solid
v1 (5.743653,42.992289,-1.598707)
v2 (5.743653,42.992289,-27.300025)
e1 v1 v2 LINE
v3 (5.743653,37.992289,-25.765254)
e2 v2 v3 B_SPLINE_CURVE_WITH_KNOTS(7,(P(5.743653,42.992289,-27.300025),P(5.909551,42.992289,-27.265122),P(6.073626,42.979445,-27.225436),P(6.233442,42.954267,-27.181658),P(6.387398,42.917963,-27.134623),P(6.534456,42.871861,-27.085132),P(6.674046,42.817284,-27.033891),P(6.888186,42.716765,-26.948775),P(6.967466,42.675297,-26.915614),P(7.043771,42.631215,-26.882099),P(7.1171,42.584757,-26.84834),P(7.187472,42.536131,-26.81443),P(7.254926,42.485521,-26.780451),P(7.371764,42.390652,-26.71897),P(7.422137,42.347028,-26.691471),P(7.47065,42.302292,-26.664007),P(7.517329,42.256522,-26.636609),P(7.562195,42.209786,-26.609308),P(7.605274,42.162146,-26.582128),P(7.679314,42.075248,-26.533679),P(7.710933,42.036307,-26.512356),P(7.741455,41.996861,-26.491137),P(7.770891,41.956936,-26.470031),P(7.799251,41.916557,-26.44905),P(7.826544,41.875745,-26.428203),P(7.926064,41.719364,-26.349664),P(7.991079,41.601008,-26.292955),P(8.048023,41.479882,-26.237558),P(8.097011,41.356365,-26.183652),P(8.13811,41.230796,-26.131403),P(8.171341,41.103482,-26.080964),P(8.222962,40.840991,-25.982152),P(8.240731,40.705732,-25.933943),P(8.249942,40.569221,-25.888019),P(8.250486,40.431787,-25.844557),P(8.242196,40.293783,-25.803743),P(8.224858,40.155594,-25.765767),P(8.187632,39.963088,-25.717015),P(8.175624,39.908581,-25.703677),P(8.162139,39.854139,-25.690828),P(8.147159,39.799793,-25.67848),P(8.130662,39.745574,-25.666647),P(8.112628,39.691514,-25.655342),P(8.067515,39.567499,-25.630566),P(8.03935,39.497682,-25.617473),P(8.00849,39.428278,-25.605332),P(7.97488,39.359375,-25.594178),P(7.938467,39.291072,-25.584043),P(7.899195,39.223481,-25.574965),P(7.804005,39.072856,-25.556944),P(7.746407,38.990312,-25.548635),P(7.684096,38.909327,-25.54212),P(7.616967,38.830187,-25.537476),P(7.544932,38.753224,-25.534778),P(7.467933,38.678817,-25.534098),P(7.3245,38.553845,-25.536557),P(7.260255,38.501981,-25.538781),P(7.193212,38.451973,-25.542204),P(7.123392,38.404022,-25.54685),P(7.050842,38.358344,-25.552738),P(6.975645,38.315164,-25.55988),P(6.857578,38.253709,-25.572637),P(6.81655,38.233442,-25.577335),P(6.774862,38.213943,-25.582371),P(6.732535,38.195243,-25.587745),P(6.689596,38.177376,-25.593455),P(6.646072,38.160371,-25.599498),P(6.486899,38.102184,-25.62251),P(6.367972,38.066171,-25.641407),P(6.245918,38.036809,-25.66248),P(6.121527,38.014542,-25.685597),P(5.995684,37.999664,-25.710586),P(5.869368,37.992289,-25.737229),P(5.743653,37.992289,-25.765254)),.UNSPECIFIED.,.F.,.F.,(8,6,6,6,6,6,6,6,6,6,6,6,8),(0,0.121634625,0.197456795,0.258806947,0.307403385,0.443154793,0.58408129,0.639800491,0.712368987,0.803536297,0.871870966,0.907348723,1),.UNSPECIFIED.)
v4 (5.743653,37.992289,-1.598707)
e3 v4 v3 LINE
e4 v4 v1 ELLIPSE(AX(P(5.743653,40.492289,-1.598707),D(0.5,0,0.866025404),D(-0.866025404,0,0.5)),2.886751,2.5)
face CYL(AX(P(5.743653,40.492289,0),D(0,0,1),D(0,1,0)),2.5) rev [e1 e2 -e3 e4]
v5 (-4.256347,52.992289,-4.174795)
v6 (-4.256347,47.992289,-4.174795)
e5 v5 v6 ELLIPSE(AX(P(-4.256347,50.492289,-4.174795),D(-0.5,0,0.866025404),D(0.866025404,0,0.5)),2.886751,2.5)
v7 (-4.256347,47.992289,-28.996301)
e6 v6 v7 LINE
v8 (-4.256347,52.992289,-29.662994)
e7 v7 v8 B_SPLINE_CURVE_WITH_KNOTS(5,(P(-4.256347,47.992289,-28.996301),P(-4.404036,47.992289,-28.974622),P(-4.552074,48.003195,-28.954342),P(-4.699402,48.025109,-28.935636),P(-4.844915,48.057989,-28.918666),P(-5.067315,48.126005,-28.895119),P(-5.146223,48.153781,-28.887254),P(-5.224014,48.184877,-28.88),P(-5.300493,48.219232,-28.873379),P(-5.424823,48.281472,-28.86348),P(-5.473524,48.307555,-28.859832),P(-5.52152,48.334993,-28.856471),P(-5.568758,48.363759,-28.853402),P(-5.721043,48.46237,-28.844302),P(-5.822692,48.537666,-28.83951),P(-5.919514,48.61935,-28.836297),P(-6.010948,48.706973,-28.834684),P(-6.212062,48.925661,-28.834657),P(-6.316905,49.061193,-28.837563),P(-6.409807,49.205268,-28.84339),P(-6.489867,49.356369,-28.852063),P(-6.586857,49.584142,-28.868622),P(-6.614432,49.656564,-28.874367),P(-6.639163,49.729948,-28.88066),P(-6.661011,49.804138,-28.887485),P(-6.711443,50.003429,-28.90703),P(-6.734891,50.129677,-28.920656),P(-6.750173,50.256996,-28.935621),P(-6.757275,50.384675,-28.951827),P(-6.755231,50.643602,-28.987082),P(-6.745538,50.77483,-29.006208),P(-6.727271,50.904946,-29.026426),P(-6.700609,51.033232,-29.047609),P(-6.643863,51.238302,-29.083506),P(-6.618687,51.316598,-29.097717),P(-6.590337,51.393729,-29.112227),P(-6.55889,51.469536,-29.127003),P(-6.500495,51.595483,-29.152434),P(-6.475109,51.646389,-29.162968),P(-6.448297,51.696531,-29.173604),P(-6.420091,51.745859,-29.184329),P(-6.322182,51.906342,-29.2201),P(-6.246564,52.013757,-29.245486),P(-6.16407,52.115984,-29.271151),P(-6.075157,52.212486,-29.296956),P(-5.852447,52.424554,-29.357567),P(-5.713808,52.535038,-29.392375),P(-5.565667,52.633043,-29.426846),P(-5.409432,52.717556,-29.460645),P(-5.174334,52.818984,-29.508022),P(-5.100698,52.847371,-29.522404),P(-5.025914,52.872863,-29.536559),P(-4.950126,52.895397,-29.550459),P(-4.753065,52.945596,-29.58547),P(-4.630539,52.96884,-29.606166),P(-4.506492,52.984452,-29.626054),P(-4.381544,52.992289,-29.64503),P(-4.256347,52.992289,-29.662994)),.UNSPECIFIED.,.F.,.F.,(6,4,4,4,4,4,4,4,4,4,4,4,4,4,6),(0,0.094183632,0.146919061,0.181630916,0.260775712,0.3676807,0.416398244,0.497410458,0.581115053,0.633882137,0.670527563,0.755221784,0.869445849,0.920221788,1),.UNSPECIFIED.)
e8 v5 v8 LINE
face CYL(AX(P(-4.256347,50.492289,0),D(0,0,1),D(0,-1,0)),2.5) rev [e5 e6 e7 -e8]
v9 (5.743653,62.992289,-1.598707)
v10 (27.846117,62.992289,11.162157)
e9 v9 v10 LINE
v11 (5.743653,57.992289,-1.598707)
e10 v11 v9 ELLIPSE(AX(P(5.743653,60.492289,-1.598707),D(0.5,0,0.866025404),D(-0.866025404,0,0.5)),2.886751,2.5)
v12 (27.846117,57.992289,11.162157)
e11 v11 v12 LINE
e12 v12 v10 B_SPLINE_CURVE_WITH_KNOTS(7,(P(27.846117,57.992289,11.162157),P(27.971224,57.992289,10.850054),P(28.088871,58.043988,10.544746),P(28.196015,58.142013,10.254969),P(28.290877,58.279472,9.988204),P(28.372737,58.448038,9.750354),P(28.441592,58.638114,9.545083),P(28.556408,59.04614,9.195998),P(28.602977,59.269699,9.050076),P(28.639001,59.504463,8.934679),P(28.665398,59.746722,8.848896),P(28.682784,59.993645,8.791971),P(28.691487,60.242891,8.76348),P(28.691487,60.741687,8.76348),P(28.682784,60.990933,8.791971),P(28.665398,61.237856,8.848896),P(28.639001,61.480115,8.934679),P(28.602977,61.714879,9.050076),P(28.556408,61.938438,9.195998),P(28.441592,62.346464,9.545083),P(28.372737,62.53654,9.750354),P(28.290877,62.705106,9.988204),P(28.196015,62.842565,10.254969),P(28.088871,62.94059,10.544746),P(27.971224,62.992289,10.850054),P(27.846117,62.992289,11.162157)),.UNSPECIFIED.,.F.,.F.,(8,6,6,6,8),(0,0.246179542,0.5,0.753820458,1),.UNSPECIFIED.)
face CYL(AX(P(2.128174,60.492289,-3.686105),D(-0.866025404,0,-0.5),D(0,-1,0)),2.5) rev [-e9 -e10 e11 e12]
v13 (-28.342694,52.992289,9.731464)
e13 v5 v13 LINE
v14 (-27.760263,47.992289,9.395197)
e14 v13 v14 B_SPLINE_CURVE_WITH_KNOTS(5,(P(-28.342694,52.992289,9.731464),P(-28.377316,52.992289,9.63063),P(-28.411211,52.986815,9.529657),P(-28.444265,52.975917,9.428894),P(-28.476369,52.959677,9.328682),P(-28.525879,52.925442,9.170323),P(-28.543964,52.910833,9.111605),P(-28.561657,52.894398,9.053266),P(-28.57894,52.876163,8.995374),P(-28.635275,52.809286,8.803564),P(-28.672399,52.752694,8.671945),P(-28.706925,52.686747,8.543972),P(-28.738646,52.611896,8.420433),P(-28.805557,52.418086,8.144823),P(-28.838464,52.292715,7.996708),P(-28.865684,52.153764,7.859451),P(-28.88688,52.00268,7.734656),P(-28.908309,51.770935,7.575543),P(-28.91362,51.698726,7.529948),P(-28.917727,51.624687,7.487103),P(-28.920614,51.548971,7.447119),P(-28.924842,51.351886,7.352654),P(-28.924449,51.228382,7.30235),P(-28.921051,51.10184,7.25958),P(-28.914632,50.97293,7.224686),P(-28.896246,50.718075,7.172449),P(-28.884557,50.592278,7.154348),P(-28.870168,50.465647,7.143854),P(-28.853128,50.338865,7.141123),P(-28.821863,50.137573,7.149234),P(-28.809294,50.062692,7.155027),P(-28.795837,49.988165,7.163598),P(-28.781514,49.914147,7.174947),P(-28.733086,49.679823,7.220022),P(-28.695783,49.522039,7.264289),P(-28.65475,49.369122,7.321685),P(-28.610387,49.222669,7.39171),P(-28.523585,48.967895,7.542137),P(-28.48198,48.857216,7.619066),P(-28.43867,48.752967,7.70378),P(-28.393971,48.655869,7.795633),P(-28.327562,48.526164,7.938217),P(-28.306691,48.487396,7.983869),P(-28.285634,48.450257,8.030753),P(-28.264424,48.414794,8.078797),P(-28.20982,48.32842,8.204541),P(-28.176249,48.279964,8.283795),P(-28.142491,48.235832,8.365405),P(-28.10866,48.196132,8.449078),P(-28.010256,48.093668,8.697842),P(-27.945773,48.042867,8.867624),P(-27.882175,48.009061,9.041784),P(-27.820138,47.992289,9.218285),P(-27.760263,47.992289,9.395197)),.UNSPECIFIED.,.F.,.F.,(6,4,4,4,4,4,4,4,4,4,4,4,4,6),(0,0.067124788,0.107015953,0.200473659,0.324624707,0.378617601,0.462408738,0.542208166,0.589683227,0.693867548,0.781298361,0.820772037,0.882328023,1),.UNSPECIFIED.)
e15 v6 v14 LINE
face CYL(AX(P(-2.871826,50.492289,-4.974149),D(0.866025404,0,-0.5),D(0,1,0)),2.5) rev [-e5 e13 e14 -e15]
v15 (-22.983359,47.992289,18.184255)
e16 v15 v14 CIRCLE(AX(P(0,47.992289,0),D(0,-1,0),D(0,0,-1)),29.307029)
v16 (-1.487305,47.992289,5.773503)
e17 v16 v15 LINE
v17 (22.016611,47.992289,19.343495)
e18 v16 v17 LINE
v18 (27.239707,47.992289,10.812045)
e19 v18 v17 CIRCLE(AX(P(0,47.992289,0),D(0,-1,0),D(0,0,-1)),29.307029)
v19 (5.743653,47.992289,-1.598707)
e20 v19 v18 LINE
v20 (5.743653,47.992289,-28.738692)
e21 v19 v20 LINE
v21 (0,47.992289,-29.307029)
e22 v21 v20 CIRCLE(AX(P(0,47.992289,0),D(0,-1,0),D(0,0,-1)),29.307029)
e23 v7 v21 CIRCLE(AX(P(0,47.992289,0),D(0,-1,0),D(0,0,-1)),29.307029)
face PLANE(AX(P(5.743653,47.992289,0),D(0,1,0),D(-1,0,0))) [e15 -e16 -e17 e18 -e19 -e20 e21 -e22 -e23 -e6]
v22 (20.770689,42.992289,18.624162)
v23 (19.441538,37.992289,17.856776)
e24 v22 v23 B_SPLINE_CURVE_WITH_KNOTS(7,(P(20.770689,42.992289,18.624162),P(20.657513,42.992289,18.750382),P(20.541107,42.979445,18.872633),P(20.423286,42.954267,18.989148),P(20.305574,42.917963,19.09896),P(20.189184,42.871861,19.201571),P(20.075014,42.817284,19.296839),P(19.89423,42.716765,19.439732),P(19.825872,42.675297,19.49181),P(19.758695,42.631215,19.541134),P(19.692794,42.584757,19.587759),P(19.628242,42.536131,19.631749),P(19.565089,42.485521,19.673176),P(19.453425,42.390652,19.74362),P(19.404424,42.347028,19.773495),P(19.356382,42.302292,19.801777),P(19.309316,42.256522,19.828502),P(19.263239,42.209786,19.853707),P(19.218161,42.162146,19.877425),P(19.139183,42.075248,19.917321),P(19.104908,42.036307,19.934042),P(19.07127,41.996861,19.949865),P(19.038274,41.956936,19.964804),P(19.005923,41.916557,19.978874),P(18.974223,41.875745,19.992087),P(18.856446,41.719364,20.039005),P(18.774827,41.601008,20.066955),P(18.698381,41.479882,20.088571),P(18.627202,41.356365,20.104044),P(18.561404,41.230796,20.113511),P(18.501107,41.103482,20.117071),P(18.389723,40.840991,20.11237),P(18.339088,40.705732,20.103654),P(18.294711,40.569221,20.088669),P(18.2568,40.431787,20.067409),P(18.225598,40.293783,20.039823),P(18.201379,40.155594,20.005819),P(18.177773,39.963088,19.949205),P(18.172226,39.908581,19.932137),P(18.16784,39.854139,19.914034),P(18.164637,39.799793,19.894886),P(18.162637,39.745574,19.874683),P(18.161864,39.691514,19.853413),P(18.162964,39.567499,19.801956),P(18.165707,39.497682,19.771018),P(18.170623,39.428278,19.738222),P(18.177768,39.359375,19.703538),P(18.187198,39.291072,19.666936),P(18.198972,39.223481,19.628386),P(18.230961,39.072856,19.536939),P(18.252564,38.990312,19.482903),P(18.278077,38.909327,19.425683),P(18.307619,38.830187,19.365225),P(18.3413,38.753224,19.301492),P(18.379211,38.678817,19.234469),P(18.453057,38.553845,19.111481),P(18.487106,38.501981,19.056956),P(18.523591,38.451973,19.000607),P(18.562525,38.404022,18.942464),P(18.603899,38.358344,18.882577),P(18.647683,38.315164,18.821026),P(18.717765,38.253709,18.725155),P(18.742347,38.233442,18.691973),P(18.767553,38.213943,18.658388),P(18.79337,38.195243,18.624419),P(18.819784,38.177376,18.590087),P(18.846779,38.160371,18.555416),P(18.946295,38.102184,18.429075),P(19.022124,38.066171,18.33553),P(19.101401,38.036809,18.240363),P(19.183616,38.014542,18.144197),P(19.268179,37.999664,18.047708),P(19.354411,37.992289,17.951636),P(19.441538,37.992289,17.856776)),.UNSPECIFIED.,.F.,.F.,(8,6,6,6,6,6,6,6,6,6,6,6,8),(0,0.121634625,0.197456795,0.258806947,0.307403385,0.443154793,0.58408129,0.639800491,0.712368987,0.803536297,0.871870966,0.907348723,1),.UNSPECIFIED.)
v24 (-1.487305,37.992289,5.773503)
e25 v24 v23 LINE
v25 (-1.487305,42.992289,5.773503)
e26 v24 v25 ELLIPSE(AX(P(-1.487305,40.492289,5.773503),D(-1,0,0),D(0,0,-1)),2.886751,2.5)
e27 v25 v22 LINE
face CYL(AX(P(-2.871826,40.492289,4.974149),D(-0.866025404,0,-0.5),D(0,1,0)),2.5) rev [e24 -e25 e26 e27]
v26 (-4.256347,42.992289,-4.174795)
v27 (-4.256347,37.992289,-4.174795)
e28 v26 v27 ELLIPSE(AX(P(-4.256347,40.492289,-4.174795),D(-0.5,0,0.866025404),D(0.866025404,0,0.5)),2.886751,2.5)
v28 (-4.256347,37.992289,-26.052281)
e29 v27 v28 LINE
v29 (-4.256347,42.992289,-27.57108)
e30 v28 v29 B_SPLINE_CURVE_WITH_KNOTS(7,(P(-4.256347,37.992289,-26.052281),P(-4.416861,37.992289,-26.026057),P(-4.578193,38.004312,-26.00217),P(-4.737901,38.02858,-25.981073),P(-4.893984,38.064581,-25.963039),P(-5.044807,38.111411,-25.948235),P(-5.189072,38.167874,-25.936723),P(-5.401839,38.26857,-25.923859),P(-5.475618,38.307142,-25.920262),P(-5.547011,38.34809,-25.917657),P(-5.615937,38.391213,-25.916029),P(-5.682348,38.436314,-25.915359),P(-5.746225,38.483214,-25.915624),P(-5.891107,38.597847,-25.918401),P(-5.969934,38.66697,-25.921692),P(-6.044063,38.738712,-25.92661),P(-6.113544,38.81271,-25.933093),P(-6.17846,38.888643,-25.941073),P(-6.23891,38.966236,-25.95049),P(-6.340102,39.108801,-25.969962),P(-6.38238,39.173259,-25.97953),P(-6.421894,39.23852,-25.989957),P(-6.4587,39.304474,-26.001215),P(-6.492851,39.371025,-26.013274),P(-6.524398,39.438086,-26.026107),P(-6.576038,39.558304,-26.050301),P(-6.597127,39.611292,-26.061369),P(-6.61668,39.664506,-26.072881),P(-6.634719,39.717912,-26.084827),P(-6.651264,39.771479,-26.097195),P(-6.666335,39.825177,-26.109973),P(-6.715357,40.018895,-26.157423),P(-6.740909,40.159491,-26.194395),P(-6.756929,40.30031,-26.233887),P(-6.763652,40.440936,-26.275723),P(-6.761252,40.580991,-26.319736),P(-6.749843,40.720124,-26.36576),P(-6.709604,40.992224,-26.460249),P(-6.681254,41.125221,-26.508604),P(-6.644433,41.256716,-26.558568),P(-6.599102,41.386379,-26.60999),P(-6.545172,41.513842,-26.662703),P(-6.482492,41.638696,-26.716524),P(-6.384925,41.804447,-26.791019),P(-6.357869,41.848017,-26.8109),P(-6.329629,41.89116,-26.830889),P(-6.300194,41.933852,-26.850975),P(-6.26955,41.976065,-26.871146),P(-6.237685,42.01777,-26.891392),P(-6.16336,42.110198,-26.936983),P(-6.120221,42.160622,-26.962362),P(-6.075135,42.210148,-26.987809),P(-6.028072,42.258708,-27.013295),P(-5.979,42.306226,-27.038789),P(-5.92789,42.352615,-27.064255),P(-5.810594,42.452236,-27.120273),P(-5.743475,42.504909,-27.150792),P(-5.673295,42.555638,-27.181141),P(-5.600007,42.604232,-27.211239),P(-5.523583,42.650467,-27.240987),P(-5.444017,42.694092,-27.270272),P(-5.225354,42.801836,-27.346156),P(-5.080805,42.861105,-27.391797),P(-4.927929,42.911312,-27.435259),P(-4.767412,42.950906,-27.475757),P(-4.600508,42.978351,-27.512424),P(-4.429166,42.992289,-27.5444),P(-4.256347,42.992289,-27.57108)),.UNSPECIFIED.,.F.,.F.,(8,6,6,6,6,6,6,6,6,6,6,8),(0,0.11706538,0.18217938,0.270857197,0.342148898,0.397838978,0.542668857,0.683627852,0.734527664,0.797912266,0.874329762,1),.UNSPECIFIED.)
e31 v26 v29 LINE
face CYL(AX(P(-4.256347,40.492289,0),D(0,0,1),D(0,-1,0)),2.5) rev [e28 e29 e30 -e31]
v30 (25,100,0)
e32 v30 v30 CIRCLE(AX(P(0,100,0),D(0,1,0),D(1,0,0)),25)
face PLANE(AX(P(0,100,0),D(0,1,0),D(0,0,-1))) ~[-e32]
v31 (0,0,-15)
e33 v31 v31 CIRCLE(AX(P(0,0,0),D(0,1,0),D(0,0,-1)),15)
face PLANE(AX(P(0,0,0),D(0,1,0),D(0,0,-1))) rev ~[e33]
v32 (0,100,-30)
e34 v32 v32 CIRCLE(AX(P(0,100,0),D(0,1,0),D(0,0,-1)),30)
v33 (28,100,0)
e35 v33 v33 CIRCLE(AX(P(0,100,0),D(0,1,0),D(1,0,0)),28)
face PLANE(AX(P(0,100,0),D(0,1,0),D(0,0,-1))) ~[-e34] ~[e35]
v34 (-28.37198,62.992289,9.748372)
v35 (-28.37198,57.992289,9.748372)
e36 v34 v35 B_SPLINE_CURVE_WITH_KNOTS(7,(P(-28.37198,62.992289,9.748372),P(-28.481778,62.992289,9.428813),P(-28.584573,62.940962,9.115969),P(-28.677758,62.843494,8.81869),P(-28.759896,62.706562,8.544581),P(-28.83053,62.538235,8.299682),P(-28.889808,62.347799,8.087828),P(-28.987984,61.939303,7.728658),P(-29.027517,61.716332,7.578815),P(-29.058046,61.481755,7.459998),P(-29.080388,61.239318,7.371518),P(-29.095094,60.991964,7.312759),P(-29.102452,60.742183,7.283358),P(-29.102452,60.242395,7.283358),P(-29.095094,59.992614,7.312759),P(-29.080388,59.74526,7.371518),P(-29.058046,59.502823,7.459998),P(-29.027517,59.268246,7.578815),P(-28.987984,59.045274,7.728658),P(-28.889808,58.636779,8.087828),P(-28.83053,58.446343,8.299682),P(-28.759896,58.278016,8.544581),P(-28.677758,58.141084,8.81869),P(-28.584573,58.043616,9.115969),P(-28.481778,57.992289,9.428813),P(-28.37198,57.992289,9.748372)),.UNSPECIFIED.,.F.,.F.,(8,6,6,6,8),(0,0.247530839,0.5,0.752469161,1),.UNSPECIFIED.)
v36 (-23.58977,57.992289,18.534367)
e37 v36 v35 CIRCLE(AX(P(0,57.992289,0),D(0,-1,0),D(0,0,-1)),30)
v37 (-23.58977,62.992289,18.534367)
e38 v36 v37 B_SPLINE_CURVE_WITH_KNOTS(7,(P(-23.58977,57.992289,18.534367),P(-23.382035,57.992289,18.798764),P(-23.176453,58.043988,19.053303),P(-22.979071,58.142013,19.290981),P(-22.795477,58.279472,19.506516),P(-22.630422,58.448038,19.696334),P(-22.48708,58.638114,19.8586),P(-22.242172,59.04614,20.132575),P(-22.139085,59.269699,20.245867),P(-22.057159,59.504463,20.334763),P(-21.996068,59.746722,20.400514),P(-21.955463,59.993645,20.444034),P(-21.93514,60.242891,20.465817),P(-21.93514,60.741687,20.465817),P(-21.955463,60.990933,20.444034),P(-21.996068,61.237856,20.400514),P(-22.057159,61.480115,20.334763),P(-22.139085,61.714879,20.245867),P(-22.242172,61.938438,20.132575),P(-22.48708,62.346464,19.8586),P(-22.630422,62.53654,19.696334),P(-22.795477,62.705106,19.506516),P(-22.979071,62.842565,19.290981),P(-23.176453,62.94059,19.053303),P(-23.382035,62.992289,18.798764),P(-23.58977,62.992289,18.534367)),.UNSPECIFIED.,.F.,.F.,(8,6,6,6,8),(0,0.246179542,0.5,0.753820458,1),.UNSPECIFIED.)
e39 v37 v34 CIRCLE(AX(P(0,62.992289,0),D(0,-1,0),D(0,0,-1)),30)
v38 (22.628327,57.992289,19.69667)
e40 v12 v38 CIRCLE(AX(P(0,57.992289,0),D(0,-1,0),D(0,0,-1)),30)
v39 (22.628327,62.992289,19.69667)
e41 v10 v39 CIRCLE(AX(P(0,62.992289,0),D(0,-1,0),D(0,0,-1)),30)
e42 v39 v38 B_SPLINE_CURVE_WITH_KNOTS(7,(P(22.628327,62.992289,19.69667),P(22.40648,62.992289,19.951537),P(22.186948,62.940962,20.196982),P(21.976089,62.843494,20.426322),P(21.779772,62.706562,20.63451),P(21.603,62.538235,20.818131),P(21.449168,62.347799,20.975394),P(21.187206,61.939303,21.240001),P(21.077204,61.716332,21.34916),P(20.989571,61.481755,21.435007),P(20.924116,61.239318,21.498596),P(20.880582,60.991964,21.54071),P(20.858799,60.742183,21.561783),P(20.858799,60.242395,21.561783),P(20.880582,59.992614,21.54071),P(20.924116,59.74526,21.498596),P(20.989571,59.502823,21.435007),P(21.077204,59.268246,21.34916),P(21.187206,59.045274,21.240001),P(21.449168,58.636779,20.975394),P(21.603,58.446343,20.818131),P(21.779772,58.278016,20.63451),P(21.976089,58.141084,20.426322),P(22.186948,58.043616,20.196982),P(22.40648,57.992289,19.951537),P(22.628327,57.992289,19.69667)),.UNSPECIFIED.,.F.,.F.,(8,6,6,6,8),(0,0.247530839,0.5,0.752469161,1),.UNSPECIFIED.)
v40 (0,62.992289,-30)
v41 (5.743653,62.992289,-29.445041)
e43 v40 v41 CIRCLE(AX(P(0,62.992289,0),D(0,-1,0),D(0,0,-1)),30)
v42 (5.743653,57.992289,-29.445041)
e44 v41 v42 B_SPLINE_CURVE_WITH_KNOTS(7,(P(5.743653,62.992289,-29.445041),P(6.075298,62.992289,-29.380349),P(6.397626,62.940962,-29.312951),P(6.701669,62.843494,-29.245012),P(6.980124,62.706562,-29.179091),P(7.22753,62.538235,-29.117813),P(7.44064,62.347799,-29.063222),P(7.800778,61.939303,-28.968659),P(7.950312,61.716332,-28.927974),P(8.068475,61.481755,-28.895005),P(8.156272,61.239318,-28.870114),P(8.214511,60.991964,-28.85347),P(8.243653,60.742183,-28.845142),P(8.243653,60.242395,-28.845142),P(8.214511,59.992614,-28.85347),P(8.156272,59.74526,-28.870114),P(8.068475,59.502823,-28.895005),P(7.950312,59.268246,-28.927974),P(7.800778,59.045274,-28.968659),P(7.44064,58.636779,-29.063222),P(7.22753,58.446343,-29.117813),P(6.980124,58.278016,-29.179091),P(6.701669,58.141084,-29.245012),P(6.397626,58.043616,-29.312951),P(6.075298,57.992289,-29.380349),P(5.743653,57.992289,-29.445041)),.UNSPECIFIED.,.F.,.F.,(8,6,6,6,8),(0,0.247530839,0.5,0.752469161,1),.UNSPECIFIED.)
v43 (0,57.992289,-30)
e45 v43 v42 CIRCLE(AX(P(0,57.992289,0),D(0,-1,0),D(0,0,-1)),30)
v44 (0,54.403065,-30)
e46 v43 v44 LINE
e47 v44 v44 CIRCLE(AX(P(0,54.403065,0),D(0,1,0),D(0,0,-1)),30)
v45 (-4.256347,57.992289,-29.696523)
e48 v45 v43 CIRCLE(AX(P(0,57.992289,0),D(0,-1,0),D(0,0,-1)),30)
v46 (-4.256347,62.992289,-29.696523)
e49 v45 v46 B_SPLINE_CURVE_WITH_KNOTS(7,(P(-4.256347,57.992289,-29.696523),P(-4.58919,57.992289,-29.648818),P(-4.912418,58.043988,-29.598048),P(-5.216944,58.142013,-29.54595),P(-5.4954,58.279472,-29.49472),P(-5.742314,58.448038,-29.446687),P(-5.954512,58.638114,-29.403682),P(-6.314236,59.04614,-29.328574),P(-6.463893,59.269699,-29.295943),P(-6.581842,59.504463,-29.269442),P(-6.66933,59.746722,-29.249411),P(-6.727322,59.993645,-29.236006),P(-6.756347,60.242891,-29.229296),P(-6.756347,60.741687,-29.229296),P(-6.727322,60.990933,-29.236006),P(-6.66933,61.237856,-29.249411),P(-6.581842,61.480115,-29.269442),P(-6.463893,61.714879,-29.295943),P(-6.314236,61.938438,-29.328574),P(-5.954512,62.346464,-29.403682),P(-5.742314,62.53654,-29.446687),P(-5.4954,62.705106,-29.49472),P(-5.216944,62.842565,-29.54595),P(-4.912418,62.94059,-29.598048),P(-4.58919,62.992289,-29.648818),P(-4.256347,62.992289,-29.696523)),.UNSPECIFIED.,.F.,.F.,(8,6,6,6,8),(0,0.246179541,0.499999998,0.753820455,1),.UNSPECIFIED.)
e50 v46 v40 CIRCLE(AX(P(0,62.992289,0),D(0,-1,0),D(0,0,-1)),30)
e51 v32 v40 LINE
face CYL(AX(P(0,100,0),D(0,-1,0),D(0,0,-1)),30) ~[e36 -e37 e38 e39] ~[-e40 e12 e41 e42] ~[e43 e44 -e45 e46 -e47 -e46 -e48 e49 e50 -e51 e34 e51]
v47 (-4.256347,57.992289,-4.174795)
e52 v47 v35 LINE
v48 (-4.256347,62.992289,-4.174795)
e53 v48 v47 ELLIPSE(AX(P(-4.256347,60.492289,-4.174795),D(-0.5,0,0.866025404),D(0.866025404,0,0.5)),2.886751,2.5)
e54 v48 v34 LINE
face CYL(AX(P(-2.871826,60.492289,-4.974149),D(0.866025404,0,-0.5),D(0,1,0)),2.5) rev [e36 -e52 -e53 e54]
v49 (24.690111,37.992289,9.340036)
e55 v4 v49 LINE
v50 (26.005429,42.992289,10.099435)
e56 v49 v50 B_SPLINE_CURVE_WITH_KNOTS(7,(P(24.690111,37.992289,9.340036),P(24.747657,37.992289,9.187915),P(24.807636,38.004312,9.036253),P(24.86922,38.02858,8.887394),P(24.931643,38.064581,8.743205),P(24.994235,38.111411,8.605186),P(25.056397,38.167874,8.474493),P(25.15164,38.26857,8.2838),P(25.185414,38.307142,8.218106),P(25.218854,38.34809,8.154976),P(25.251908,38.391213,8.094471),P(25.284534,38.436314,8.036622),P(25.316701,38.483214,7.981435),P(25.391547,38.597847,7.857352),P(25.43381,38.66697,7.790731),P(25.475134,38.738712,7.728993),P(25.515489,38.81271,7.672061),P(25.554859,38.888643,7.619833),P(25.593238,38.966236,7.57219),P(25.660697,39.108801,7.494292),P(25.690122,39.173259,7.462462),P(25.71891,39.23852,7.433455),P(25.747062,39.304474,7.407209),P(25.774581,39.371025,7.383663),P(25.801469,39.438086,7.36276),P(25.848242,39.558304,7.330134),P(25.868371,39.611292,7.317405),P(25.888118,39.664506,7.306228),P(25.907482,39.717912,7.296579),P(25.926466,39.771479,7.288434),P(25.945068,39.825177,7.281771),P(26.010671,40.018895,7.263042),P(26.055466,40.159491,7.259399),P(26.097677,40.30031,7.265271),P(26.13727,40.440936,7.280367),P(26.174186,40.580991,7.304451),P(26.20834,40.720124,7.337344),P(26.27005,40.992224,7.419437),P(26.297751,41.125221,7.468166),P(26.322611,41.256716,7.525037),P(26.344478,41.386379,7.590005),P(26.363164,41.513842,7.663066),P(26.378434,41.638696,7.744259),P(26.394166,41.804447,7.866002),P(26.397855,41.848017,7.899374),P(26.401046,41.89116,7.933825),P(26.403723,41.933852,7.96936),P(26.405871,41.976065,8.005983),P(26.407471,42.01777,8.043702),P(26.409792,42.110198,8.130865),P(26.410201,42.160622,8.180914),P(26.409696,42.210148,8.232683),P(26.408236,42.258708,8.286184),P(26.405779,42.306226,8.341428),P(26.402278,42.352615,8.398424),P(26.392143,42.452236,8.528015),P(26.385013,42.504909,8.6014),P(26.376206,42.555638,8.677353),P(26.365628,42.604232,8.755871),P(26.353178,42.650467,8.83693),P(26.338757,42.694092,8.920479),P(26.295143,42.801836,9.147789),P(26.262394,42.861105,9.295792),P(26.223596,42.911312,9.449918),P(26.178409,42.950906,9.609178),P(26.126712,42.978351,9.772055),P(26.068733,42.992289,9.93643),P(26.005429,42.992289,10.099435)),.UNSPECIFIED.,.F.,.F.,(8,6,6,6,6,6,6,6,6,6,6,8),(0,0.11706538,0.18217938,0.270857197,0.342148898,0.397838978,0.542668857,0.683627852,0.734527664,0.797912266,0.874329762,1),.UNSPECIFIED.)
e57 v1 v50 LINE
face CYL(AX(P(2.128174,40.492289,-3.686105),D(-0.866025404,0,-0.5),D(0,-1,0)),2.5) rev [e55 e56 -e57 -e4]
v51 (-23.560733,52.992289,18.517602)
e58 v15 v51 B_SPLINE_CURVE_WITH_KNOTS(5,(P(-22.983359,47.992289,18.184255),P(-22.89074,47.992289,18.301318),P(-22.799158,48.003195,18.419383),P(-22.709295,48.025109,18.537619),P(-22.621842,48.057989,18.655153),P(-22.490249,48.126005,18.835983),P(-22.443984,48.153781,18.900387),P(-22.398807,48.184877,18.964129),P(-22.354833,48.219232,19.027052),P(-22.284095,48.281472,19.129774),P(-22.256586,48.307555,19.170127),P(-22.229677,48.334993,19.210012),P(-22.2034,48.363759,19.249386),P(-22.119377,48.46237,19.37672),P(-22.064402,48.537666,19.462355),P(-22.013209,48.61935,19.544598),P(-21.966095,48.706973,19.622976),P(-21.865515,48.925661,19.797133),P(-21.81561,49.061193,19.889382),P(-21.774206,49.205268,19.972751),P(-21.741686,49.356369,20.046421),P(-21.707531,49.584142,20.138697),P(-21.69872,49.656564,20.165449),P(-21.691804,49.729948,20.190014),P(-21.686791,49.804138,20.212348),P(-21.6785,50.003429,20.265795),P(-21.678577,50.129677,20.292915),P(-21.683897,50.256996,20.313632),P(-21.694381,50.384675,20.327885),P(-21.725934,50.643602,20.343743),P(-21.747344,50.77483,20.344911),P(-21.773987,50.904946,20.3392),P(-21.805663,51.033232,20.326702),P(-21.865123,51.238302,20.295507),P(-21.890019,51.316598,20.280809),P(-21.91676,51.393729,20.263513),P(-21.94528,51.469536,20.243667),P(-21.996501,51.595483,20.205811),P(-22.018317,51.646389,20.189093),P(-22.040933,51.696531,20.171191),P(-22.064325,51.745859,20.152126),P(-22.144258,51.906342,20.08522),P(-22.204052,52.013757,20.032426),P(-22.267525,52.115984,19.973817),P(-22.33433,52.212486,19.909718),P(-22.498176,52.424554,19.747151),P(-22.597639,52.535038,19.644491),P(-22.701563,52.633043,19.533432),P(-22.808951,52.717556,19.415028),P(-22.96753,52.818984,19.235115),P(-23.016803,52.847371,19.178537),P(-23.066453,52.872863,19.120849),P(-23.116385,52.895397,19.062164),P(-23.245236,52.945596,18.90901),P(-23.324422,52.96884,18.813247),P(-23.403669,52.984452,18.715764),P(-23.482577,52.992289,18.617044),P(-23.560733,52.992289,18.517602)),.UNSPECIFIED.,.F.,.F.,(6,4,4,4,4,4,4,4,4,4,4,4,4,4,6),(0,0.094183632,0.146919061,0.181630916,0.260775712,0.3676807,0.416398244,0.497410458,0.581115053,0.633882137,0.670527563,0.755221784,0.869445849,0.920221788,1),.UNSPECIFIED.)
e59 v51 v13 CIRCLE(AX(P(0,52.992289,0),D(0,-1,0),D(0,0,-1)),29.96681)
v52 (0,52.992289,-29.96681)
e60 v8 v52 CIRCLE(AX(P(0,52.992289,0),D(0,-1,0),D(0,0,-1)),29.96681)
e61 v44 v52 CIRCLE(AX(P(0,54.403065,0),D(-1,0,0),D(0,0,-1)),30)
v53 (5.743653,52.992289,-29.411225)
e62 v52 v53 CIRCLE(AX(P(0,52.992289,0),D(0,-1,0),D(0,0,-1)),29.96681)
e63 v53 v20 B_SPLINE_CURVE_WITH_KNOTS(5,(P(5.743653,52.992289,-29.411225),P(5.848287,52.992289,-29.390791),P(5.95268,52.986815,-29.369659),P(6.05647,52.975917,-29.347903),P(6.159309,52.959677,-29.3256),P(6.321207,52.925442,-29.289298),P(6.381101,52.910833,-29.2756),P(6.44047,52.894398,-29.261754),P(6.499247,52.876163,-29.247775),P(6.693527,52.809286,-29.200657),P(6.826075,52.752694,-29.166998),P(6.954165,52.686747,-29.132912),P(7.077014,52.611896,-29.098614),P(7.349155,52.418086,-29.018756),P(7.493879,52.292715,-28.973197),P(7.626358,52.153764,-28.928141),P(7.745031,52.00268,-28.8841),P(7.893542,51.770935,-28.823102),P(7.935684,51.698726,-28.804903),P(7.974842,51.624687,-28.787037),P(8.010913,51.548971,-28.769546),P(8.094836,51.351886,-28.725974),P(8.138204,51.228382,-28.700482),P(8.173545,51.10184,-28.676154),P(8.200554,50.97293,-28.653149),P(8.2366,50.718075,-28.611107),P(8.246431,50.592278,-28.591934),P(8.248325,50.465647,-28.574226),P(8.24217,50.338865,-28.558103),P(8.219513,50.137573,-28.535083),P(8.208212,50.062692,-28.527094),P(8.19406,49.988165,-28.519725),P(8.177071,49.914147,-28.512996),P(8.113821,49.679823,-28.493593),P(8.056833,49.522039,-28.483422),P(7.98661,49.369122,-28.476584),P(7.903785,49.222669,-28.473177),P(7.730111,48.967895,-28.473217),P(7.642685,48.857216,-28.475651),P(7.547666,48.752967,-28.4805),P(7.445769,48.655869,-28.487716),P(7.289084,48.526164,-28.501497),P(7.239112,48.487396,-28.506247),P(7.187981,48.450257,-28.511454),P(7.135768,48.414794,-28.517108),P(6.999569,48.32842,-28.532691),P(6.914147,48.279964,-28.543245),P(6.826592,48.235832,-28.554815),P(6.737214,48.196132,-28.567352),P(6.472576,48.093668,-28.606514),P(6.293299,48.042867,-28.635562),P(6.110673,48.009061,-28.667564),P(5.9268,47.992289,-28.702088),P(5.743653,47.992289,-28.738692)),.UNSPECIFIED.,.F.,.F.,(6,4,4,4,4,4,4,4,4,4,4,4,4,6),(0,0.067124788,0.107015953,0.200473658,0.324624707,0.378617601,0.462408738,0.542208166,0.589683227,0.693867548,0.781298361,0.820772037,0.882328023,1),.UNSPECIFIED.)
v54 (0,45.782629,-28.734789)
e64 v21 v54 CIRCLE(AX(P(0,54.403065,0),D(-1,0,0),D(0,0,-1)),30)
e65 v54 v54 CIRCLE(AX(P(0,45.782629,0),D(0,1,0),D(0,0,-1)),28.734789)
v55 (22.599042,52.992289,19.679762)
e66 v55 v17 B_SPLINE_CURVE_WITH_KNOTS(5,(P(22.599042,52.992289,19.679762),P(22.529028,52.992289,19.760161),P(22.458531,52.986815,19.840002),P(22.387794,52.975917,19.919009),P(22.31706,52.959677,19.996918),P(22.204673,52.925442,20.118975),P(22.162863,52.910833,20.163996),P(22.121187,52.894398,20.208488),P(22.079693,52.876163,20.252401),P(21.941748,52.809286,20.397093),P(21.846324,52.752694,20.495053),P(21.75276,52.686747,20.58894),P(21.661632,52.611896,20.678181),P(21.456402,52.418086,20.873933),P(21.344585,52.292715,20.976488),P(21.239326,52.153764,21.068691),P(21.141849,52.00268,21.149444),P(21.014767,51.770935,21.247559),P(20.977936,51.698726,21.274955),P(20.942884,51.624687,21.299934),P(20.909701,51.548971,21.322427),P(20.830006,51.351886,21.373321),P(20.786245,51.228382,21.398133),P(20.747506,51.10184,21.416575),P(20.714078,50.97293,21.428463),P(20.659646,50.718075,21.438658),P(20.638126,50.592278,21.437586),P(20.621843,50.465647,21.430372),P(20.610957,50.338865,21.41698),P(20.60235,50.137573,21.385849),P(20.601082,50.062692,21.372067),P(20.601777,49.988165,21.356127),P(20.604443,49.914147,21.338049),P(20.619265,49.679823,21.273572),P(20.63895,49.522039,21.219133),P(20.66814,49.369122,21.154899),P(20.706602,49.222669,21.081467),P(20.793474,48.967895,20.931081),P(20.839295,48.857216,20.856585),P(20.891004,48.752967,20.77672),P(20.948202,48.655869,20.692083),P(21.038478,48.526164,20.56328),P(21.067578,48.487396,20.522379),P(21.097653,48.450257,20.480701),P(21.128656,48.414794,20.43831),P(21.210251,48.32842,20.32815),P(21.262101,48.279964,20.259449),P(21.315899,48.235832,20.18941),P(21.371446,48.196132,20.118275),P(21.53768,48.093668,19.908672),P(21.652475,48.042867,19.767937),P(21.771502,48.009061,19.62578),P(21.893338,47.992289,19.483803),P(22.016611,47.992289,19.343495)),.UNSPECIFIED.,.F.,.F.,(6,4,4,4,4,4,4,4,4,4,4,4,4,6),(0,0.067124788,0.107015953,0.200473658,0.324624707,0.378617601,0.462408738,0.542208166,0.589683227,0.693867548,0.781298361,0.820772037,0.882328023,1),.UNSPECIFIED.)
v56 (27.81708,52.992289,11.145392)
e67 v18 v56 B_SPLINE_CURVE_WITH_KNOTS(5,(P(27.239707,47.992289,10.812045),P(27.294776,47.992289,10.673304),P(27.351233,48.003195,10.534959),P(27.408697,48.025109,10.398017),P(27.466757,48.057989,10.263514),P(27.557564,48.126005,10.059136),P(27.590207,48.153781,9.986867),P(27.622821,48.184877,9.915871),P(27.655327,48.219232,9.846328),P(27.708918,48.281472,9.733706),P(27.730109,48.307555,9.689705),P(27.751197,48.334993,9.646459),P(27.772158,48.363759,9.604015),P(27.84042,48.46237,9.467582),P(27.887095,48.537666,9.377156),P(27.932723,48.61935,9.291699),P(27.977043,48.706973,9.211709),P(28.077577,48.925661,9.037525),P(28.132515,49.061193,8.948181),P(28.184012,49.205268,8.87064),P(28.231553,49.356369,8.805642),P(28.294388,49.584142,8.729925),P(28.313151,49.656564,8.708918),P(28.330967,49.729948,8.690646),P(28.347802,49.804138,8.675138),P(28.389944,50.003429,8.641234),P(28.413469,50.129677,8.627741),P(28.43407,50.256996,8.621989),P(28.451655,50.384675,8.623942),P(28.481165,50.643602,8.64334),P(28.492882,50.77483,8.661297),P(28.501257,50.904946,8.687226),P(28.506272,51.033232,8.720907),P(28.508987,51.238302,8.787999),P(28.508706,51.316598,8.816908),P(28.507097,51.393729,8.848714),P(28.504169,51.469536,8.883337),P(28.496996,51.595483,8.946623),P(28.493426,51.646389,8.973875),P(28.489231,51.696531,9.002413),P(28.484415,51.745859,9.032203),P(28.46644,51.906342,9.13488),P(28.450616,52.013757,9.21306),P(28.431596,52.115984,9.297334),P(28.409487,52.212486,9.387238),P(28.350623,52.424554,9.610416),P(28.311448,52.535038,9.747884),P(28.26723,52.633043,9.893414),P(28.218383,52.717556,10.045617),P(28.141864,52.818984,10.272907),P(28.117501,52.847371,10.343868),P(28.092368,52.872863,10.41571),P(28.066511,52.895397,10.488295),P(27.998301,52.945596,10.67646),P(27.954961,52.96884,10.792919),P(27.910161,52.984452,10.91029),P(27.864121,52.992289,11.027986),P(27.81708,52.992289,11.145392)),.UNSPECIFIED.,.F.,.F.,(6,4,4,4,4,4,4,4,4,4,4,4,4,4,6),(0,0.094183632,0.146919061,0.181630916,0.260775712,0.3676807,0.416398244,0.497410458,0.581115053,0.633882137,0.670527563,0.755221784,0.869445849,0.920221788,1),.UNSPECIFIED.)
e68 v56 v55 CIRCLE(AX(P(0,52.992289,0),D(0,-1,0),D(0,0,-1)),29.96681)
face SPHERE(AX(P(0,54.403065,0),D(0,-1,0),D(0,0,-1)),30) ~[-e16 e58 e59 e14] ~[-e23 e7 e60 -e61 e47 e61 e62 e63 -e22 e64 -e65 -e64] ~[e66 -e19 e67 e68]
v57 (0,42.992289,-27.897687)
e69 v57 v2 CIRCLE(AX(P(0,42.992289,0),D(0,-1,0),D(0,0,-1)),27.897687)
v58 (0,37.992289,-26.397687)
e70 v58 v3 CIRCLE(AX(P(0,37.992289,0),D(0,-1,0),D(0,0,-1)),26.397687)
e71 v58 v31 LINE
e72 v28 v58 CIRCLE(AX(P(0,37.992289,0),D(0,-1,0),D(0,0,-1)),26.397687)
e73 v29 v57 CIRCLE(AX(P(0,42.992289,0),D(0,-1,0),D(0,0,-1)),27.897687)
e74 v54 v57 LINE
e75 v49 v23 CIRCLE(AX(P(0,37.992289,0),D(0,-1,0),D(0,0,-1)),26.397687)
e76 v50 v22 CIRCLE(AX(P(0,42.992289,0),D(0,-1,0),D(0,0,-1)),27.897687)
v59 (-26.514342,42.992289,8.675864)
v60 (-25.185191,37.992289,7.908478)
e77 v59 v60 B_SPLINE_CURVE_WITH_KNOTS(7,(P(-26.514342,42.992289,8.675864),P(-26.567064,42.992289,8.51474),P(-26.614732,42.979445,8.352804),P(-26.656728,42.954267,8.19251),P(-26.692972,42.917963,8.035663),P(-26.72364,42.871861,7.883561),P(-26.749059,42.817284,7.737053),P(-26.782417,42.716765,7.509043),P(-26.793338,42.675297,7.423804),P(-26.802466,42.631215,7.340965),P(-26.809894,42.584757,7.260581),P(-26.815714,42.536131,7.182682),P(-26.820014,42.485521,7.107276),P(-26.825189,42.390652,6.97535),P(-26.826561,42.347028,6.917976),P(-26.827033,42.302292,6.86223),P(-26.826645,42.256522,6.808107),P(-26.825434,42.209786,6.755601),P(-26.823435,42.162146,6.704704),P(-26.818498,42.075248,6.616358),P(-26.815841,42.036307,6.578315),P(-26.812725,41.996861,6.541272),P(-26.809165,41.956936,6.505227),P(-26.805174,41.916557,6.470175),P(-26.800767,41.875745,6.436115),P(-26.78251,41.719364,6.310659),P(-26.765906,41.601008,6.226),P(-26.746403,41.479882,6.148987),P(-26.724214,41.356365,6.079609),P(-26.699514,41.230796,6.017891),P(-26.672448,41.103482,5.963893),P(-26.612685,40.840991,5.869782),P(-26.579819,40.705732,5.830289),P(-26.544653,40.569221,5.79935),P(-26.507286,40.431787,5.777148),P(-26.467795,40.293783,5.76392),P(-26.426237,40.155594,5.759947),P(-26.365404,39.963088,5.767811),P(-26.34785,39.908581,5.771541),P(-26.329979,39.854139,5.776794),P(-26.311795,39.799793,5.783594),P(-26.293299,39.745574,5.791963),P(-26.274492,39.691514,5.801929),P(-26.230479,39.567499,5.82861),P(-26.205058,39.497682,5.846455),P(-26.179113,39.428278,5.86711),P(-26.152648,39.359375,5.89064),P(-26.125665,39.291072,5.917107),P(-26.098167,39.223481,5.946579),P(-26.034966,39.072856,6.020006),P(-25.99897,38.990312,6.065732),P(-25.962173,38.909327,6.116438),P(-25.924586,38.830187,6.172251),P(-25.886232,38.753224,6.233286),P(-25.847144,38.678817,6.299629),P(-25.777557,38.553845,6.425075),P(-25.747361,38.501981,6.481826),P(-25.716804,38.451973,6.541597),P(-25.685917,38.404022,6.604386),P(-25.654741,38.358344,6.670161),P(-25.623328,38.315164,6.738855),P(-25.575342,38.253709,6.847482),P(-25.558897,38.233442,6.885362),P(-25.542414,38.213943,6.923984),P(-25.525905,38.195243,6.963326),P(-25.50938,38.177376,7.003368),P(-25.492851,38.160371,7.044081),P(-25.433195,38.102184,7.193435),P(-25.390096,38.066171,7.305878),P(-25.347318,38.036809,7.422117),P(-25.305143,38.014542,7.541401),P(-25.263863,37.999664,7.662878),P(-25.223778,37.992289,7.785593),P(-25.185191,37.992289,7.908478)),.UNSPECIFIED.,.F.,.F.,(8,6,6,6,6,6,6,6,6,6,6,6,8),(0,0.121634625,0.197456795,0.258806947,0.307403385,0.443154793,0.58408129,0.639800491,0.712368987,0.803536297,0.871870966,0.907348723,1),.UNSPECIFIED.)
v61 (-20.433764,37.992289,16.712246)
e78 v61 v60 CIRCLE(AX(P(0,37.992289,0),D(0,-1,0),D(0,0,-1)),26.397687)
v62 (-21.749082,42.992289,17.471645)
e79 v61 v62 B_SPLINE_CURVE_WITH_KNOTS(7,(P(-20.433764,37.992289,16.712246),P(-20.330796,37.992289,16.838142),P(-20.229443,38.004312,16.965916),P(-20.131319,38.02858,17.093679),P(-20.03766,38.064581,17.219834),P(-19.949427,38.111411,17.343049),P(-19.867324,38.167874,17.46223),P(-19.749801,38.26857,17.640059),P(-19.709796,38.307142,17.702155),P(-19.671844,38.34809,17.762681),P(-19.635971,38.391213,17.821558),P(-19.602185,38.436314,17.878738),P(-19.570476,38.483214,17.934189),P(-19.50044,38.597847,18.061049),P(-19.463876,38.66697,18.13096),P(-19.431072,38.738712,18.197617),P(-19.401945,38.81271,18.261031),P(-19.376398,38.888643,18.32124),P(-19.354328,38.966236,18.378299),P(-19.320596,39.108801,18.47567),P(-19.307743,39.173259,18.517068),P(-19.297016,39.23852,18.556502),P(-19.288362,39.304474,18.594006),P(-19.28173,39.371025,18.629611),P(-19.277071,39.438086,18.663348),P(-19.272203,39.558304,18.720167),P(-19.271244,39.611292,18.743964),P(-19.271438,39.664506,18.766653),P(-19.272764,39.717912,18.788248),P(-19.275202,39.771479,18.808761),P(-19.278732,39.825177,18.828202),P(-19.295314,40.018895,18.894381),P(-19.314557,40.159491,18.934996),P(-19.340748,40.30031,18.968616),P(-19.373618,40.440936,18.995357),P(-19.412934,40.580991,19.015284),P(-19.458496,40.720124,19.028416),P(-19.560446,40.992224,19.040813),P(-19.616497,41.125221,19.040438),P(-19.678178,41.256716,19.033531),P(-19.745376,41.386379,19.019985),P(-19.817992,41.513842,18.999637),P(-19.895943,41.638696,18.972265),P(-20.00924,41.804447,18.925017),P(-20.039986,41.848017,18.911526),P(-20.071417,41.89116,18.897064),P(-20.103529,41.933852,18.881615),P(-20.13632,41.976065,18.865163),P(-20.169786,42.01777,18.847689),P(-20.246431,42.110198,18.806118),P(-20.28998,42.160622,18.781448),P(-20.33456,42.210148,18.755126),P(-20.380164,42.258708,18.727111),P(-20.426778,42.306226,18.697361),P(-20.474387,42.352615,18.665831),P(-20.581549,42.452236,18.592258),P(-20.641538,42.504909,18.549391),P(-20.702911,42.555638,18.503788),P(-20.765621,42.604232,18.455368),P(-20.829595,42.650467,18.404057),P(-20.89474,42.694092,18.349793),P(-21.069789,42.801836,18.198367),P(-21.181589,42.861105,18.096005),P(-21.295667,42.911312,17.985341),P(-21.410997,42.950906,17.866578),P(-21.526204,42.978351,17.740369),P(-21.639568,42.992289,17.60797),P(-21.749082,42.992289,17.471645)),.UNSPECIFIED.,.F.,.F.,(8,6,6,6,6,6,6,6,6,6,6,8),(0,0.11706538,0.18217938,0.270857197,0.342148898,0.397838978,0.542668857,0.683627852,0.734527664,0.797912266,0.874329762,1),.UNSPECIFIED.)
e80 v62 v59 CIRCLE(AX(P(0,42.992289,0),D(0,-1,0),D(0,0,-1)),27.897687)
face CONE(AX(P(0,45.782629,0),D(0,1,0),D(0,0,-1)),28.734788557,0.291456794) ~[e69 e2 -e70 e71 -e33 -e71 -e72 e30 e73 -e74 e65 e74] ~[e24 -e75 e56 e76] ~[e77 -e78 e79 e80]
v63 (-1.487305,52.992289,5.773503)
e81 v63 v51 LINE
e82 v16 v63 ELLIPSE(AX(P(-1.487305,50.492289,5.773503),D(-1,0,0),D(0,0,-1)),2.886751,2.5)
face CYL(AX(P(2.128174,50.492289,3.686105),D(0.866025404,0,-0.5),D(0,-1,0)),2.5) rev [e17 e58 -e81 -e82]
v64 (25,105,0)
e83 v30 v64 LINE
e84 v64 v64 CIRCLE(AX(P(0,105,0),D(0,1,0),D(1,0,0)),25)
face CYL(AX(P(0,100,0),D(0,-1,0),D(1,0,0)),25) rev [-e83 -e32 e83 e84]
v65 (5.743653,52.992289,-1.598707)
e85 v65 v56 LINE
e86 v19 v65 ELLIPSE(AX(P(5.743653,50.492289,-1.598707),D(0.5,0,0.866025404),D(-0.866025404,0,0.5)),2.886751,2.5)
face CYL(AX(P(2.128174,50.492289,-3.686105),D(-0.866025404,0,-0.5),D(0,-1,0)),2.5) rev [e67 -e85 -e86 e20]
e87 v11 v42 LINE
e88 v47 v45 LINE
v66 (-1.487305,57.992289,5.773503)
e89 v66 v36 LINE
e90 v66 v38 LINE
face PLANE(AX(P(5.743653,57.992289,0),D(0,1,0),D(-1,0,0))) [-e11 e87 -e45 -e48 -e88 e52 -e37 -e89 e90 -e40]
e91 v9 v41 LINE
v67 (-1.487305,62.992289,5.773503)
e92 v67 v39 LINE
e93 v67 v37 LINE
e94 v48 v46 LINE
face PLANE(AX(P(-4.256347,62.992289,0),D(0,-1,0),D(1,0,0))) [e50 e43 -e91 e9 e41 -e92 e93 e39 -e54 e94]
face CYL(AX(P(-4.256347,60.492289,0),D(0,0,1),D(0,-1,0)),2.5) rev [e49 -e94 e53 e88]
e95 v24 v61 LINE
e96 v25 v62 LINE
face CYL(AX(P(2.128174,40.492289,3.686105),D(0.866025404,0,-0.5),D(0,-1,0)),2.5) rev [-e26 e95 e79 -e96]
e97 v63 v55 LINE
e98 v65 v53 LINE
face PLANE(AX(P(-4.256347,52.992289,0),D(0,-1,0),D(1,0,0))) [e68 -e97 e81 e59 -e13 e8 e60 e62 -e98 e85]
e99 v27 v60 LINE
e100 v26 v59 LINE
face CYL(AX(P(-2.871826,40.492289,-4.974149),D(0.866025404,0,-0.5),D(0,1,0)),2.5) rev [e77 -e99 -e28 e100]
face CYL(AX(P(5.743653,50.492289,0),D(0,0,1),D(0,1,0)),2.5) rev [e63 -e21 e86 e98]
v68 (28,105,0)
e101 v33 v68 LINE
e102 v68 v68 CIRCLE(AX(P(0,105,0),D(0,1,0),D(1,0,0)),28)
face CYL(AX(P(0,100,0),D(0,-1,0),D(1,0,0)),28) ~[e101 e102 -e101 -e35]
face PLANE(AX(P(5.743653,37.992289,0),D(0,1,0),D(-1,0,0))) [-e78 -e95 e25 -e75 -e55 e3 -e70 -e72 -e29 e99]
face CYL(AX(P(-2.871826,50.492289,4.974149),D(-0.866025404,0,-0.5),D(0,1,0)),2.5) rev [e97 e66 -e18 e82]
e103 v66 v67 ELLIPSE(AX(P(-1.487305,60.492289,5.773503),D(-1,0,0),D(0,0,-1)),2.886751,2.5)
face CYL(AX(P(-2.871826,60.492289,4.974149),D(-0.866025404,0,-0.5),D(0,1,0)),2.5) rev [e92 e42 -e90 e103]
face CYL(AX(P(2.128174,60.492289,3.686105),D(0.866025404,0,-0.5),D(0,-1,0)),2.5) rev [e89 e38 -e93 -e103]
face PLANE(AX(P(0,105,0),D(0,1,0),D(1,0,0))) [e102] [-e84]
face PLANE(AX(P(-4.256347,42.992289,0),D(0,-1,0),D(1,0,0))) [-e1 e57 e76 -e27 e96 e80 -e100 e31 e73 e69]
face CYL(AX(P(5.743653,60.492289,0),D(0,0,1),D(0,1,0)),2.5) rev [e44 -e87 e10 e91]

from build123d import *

# Parameters (mm, degrees)
SKETCH4_R                = 28
SKETCH4_R_2              = 25
EXTRUDE_THIN1_DEPTH      = 5
CUT_EXTRUDE1_DEPTH       = 114.247516529
LPATTERN1_COUNT          = 3
LPATTERN1_PITCH          = 10
CIRPATTERN7_COUNT        = 3
CIRPATTERN7_COPY_1_DEPTH = 114.247516529
CIRPATTERN7_COPY_2_DEPTH = 114.247516529
CIRPATTERN7_COPY_3_DEPTH = 114.247516529
CIRPATTERN7_COPY_4_DEPTH = 114.247516529


with BuildPart() as part:
    # Sketch3 → Revolve1 (revolve)
    with BuildSketch(Plane.XY, mode=Mode.PRIVATE) as revolve1_sk:
        with BuildLine():
            Line((0, 0), (0, 100))
            Line((0, 100), (30, 100))
            Line((30, 100), (30, 54.403065089))
            ThreePointArc((30, 54.403065089), (29.682011865, 50.046670749), (28.734788557, 45.782628522))
            Line((28.734788557, 45.782628522), (15, 0))
            Line((15, 0), (0, 0))
        make_face()
    revolve(revolve1_sk.sketch.rotate(Axis((0, 0, 0), (0, 1, 0)), 90), axis=Axis((0, 0, 0), (0, 1, 0)))

    # Sketch4 → Extrude-Thin1 (add)
    with BuildSketch(Plane(origin=(0, 100, 0), x_dir=(1, 0, 0), z_dir=(0, 1, 0))):
        Circle(SKETCH4_R)
        Circle(SKETCH4_R_2, mode=Mode.SUBTRACT)
    extrude(amount=EXTRUDE_THIN1_DEPTH)

    # Sketch9 → Cut-Extrude1 (cut, through all)
    with BuildSketch(Plane.XY):
        with BuildLine():
            Line((-4.256347382, 62.992288971), (5.743652618, 62.992288971))
            ThreePointArc((5.743652618, 62.992288971), (8.243652618, 60.492288971), (5.743652618, 57.992288971))
            Line((5.743652618, 57.992288971), (-4.256347382, 57.992288971))
            ThreePointArc((-4.256347382, 57.992288971), (-6.756347382, 60.492288971), (-4.256347382, 62.992288971))
        make_face()
    cut_extrude1 = extrude(amount=-CUT_EXTRUDE1_DEPTH, mode=Mode.SUBTRACT)

    # LPattern1: Cut-Extrude1 ×3
    with Locations(*[(0, -i * LPATTERN1_PITCH, 0) for i in range(1, LPATTERN1_COUNT)]):
        add(cut_extrude1, mode=Mode.SUBTRACT)

    # CirPattern7: Cut-Extrude1 ×3 about axis
    cirpattern7_axis = Axis((0, 0, 0), (0, -1, 0))
    for i in range(1, CIRPATTERN7_COUNT):
        add(cut_extrude1.rotate(cirpattern7_axis, i * 360 / CIRPATTERN7_COUNT), mode=Mode.SUBTRACT)

    # CirPattern7 copy 1 sketch → CirPattern7 copy 1 (cut, through all)
    with BuildSketch(Plane(origin=(0, -10, 0), x_dir=(-0.4999999999999998, 0, 0.8660254037844387), z_dir=(-0.8660254037844387, 0, -0.4999999999999998))):
        with BuildLine():
            Line((-4.256347382, 62.992288971), (5.743652618, 62.992288971))
            ThreePointArc((5.743652618, 62.992288971), (8.243652618, 60.492288971), (5.743652618, 57.992288971))
            Line((5.743652618, 57.992288971), (-4.256347382, 57.992288971))
            ThreePointArc((-4.256347382, 57.992288971), (-6.756347382, 60.492288971), (-4.256347382, 62.992288971))
        make_face()
    extrude(amount=-CIRPATTERN7_COPY_1_DEPTH, mode=Mode.SUBTRACT)

    # CirPattern7 copy 2 sketch → CirPattern7 copy 2 (cut, through all)
    with BuildSketch(Plane(origin=(0, -10, 0), x_dir=(-0.5000000000000004, 0, -0.8660254037844384), z_dir=(0.8660254037844384, 0, -0.5000000000000004))):
        with BuildLine():
            Line((-4.256347382, 62.992288971), (5.743652618, 62.992288971))
            ThreePointArc((5.743652618, 62.992288971), (8.243652618, 60.492288971), (5.743652618, 57.992288971))
            Line((5.743652618, 57.992288971), (-4.256347382, 57.992288971))
            ThreePointArc((-4.256347382, 57.992288971), (-6.756347382, 60.492288971), (-4.256347382, 62.992288971))
        make_face()
    extrude(amount=-CIRPATTERN7_COPY_2_DEPTH, mode=Mode.SUBTRACT)

    # CirPattern7 copy 3 sketch → CirPattern7 copy 3 (cut, through all)
    with BuildSketch(Plane(origin=(0, -20, 0), x_dir=(-0.4999999999999998, 0, 0.8660254037844387), z_dir=(-0.8660254037844387, 0, -0.4999999999999998))):
        with BuildLine():
            Line((-4.256347382, 62.992288971), (5.743652618, 62.992288971))
            ThreePointArc((5.743652618, 62.992288971), (8.243652618, 60.492288971), (5.743652618, 57.992288971))
            Line((5.743652618, 57.992288971), (-4.256347382, 57.992288971))
            ThreePointArc((-4.256347382, 57.992288971), (-6.756347382, 60.492288971), (-4.256347382, 62.992288971))
        make_face()
    extrude(amount=-CIRPATTERN7_COPY_3_DEPTH, mode=Mode.SUBTRACT)

    # CirPattern7 copy 4 sketch → CirPattern7 copy 4 (cut, through all)
    with BuildSketch(Plane(origin=(0, -20, 0), x_dir=(-0.5000000000000004, 0, -0.8660254037844384), z_dir=(0.8660254037844384, 0, -0.5000000000000004))):
        with BuildLine():
            Line((-4.256347382, 62.992288971), (5.743652618, 62.992288971))
            ThreePointArc((5.743652618, 62.992288971), (8.243652618, 60.492288971), (5.743652618, 57.992288971))
            Line((5.743652618, 57.992288971), (-4.256347382, 57.992288971))
            ThreePointArc((-4.256347382, 57.992288971), (-6.756347382, 60.492288971), (-4.256347382, 62.992288971))
        make_face()
    extrude(amount=-CIRPATTERN7_COPY_4_DEPTH, mode=Mode.SUBTRACT)


solid = part.part
